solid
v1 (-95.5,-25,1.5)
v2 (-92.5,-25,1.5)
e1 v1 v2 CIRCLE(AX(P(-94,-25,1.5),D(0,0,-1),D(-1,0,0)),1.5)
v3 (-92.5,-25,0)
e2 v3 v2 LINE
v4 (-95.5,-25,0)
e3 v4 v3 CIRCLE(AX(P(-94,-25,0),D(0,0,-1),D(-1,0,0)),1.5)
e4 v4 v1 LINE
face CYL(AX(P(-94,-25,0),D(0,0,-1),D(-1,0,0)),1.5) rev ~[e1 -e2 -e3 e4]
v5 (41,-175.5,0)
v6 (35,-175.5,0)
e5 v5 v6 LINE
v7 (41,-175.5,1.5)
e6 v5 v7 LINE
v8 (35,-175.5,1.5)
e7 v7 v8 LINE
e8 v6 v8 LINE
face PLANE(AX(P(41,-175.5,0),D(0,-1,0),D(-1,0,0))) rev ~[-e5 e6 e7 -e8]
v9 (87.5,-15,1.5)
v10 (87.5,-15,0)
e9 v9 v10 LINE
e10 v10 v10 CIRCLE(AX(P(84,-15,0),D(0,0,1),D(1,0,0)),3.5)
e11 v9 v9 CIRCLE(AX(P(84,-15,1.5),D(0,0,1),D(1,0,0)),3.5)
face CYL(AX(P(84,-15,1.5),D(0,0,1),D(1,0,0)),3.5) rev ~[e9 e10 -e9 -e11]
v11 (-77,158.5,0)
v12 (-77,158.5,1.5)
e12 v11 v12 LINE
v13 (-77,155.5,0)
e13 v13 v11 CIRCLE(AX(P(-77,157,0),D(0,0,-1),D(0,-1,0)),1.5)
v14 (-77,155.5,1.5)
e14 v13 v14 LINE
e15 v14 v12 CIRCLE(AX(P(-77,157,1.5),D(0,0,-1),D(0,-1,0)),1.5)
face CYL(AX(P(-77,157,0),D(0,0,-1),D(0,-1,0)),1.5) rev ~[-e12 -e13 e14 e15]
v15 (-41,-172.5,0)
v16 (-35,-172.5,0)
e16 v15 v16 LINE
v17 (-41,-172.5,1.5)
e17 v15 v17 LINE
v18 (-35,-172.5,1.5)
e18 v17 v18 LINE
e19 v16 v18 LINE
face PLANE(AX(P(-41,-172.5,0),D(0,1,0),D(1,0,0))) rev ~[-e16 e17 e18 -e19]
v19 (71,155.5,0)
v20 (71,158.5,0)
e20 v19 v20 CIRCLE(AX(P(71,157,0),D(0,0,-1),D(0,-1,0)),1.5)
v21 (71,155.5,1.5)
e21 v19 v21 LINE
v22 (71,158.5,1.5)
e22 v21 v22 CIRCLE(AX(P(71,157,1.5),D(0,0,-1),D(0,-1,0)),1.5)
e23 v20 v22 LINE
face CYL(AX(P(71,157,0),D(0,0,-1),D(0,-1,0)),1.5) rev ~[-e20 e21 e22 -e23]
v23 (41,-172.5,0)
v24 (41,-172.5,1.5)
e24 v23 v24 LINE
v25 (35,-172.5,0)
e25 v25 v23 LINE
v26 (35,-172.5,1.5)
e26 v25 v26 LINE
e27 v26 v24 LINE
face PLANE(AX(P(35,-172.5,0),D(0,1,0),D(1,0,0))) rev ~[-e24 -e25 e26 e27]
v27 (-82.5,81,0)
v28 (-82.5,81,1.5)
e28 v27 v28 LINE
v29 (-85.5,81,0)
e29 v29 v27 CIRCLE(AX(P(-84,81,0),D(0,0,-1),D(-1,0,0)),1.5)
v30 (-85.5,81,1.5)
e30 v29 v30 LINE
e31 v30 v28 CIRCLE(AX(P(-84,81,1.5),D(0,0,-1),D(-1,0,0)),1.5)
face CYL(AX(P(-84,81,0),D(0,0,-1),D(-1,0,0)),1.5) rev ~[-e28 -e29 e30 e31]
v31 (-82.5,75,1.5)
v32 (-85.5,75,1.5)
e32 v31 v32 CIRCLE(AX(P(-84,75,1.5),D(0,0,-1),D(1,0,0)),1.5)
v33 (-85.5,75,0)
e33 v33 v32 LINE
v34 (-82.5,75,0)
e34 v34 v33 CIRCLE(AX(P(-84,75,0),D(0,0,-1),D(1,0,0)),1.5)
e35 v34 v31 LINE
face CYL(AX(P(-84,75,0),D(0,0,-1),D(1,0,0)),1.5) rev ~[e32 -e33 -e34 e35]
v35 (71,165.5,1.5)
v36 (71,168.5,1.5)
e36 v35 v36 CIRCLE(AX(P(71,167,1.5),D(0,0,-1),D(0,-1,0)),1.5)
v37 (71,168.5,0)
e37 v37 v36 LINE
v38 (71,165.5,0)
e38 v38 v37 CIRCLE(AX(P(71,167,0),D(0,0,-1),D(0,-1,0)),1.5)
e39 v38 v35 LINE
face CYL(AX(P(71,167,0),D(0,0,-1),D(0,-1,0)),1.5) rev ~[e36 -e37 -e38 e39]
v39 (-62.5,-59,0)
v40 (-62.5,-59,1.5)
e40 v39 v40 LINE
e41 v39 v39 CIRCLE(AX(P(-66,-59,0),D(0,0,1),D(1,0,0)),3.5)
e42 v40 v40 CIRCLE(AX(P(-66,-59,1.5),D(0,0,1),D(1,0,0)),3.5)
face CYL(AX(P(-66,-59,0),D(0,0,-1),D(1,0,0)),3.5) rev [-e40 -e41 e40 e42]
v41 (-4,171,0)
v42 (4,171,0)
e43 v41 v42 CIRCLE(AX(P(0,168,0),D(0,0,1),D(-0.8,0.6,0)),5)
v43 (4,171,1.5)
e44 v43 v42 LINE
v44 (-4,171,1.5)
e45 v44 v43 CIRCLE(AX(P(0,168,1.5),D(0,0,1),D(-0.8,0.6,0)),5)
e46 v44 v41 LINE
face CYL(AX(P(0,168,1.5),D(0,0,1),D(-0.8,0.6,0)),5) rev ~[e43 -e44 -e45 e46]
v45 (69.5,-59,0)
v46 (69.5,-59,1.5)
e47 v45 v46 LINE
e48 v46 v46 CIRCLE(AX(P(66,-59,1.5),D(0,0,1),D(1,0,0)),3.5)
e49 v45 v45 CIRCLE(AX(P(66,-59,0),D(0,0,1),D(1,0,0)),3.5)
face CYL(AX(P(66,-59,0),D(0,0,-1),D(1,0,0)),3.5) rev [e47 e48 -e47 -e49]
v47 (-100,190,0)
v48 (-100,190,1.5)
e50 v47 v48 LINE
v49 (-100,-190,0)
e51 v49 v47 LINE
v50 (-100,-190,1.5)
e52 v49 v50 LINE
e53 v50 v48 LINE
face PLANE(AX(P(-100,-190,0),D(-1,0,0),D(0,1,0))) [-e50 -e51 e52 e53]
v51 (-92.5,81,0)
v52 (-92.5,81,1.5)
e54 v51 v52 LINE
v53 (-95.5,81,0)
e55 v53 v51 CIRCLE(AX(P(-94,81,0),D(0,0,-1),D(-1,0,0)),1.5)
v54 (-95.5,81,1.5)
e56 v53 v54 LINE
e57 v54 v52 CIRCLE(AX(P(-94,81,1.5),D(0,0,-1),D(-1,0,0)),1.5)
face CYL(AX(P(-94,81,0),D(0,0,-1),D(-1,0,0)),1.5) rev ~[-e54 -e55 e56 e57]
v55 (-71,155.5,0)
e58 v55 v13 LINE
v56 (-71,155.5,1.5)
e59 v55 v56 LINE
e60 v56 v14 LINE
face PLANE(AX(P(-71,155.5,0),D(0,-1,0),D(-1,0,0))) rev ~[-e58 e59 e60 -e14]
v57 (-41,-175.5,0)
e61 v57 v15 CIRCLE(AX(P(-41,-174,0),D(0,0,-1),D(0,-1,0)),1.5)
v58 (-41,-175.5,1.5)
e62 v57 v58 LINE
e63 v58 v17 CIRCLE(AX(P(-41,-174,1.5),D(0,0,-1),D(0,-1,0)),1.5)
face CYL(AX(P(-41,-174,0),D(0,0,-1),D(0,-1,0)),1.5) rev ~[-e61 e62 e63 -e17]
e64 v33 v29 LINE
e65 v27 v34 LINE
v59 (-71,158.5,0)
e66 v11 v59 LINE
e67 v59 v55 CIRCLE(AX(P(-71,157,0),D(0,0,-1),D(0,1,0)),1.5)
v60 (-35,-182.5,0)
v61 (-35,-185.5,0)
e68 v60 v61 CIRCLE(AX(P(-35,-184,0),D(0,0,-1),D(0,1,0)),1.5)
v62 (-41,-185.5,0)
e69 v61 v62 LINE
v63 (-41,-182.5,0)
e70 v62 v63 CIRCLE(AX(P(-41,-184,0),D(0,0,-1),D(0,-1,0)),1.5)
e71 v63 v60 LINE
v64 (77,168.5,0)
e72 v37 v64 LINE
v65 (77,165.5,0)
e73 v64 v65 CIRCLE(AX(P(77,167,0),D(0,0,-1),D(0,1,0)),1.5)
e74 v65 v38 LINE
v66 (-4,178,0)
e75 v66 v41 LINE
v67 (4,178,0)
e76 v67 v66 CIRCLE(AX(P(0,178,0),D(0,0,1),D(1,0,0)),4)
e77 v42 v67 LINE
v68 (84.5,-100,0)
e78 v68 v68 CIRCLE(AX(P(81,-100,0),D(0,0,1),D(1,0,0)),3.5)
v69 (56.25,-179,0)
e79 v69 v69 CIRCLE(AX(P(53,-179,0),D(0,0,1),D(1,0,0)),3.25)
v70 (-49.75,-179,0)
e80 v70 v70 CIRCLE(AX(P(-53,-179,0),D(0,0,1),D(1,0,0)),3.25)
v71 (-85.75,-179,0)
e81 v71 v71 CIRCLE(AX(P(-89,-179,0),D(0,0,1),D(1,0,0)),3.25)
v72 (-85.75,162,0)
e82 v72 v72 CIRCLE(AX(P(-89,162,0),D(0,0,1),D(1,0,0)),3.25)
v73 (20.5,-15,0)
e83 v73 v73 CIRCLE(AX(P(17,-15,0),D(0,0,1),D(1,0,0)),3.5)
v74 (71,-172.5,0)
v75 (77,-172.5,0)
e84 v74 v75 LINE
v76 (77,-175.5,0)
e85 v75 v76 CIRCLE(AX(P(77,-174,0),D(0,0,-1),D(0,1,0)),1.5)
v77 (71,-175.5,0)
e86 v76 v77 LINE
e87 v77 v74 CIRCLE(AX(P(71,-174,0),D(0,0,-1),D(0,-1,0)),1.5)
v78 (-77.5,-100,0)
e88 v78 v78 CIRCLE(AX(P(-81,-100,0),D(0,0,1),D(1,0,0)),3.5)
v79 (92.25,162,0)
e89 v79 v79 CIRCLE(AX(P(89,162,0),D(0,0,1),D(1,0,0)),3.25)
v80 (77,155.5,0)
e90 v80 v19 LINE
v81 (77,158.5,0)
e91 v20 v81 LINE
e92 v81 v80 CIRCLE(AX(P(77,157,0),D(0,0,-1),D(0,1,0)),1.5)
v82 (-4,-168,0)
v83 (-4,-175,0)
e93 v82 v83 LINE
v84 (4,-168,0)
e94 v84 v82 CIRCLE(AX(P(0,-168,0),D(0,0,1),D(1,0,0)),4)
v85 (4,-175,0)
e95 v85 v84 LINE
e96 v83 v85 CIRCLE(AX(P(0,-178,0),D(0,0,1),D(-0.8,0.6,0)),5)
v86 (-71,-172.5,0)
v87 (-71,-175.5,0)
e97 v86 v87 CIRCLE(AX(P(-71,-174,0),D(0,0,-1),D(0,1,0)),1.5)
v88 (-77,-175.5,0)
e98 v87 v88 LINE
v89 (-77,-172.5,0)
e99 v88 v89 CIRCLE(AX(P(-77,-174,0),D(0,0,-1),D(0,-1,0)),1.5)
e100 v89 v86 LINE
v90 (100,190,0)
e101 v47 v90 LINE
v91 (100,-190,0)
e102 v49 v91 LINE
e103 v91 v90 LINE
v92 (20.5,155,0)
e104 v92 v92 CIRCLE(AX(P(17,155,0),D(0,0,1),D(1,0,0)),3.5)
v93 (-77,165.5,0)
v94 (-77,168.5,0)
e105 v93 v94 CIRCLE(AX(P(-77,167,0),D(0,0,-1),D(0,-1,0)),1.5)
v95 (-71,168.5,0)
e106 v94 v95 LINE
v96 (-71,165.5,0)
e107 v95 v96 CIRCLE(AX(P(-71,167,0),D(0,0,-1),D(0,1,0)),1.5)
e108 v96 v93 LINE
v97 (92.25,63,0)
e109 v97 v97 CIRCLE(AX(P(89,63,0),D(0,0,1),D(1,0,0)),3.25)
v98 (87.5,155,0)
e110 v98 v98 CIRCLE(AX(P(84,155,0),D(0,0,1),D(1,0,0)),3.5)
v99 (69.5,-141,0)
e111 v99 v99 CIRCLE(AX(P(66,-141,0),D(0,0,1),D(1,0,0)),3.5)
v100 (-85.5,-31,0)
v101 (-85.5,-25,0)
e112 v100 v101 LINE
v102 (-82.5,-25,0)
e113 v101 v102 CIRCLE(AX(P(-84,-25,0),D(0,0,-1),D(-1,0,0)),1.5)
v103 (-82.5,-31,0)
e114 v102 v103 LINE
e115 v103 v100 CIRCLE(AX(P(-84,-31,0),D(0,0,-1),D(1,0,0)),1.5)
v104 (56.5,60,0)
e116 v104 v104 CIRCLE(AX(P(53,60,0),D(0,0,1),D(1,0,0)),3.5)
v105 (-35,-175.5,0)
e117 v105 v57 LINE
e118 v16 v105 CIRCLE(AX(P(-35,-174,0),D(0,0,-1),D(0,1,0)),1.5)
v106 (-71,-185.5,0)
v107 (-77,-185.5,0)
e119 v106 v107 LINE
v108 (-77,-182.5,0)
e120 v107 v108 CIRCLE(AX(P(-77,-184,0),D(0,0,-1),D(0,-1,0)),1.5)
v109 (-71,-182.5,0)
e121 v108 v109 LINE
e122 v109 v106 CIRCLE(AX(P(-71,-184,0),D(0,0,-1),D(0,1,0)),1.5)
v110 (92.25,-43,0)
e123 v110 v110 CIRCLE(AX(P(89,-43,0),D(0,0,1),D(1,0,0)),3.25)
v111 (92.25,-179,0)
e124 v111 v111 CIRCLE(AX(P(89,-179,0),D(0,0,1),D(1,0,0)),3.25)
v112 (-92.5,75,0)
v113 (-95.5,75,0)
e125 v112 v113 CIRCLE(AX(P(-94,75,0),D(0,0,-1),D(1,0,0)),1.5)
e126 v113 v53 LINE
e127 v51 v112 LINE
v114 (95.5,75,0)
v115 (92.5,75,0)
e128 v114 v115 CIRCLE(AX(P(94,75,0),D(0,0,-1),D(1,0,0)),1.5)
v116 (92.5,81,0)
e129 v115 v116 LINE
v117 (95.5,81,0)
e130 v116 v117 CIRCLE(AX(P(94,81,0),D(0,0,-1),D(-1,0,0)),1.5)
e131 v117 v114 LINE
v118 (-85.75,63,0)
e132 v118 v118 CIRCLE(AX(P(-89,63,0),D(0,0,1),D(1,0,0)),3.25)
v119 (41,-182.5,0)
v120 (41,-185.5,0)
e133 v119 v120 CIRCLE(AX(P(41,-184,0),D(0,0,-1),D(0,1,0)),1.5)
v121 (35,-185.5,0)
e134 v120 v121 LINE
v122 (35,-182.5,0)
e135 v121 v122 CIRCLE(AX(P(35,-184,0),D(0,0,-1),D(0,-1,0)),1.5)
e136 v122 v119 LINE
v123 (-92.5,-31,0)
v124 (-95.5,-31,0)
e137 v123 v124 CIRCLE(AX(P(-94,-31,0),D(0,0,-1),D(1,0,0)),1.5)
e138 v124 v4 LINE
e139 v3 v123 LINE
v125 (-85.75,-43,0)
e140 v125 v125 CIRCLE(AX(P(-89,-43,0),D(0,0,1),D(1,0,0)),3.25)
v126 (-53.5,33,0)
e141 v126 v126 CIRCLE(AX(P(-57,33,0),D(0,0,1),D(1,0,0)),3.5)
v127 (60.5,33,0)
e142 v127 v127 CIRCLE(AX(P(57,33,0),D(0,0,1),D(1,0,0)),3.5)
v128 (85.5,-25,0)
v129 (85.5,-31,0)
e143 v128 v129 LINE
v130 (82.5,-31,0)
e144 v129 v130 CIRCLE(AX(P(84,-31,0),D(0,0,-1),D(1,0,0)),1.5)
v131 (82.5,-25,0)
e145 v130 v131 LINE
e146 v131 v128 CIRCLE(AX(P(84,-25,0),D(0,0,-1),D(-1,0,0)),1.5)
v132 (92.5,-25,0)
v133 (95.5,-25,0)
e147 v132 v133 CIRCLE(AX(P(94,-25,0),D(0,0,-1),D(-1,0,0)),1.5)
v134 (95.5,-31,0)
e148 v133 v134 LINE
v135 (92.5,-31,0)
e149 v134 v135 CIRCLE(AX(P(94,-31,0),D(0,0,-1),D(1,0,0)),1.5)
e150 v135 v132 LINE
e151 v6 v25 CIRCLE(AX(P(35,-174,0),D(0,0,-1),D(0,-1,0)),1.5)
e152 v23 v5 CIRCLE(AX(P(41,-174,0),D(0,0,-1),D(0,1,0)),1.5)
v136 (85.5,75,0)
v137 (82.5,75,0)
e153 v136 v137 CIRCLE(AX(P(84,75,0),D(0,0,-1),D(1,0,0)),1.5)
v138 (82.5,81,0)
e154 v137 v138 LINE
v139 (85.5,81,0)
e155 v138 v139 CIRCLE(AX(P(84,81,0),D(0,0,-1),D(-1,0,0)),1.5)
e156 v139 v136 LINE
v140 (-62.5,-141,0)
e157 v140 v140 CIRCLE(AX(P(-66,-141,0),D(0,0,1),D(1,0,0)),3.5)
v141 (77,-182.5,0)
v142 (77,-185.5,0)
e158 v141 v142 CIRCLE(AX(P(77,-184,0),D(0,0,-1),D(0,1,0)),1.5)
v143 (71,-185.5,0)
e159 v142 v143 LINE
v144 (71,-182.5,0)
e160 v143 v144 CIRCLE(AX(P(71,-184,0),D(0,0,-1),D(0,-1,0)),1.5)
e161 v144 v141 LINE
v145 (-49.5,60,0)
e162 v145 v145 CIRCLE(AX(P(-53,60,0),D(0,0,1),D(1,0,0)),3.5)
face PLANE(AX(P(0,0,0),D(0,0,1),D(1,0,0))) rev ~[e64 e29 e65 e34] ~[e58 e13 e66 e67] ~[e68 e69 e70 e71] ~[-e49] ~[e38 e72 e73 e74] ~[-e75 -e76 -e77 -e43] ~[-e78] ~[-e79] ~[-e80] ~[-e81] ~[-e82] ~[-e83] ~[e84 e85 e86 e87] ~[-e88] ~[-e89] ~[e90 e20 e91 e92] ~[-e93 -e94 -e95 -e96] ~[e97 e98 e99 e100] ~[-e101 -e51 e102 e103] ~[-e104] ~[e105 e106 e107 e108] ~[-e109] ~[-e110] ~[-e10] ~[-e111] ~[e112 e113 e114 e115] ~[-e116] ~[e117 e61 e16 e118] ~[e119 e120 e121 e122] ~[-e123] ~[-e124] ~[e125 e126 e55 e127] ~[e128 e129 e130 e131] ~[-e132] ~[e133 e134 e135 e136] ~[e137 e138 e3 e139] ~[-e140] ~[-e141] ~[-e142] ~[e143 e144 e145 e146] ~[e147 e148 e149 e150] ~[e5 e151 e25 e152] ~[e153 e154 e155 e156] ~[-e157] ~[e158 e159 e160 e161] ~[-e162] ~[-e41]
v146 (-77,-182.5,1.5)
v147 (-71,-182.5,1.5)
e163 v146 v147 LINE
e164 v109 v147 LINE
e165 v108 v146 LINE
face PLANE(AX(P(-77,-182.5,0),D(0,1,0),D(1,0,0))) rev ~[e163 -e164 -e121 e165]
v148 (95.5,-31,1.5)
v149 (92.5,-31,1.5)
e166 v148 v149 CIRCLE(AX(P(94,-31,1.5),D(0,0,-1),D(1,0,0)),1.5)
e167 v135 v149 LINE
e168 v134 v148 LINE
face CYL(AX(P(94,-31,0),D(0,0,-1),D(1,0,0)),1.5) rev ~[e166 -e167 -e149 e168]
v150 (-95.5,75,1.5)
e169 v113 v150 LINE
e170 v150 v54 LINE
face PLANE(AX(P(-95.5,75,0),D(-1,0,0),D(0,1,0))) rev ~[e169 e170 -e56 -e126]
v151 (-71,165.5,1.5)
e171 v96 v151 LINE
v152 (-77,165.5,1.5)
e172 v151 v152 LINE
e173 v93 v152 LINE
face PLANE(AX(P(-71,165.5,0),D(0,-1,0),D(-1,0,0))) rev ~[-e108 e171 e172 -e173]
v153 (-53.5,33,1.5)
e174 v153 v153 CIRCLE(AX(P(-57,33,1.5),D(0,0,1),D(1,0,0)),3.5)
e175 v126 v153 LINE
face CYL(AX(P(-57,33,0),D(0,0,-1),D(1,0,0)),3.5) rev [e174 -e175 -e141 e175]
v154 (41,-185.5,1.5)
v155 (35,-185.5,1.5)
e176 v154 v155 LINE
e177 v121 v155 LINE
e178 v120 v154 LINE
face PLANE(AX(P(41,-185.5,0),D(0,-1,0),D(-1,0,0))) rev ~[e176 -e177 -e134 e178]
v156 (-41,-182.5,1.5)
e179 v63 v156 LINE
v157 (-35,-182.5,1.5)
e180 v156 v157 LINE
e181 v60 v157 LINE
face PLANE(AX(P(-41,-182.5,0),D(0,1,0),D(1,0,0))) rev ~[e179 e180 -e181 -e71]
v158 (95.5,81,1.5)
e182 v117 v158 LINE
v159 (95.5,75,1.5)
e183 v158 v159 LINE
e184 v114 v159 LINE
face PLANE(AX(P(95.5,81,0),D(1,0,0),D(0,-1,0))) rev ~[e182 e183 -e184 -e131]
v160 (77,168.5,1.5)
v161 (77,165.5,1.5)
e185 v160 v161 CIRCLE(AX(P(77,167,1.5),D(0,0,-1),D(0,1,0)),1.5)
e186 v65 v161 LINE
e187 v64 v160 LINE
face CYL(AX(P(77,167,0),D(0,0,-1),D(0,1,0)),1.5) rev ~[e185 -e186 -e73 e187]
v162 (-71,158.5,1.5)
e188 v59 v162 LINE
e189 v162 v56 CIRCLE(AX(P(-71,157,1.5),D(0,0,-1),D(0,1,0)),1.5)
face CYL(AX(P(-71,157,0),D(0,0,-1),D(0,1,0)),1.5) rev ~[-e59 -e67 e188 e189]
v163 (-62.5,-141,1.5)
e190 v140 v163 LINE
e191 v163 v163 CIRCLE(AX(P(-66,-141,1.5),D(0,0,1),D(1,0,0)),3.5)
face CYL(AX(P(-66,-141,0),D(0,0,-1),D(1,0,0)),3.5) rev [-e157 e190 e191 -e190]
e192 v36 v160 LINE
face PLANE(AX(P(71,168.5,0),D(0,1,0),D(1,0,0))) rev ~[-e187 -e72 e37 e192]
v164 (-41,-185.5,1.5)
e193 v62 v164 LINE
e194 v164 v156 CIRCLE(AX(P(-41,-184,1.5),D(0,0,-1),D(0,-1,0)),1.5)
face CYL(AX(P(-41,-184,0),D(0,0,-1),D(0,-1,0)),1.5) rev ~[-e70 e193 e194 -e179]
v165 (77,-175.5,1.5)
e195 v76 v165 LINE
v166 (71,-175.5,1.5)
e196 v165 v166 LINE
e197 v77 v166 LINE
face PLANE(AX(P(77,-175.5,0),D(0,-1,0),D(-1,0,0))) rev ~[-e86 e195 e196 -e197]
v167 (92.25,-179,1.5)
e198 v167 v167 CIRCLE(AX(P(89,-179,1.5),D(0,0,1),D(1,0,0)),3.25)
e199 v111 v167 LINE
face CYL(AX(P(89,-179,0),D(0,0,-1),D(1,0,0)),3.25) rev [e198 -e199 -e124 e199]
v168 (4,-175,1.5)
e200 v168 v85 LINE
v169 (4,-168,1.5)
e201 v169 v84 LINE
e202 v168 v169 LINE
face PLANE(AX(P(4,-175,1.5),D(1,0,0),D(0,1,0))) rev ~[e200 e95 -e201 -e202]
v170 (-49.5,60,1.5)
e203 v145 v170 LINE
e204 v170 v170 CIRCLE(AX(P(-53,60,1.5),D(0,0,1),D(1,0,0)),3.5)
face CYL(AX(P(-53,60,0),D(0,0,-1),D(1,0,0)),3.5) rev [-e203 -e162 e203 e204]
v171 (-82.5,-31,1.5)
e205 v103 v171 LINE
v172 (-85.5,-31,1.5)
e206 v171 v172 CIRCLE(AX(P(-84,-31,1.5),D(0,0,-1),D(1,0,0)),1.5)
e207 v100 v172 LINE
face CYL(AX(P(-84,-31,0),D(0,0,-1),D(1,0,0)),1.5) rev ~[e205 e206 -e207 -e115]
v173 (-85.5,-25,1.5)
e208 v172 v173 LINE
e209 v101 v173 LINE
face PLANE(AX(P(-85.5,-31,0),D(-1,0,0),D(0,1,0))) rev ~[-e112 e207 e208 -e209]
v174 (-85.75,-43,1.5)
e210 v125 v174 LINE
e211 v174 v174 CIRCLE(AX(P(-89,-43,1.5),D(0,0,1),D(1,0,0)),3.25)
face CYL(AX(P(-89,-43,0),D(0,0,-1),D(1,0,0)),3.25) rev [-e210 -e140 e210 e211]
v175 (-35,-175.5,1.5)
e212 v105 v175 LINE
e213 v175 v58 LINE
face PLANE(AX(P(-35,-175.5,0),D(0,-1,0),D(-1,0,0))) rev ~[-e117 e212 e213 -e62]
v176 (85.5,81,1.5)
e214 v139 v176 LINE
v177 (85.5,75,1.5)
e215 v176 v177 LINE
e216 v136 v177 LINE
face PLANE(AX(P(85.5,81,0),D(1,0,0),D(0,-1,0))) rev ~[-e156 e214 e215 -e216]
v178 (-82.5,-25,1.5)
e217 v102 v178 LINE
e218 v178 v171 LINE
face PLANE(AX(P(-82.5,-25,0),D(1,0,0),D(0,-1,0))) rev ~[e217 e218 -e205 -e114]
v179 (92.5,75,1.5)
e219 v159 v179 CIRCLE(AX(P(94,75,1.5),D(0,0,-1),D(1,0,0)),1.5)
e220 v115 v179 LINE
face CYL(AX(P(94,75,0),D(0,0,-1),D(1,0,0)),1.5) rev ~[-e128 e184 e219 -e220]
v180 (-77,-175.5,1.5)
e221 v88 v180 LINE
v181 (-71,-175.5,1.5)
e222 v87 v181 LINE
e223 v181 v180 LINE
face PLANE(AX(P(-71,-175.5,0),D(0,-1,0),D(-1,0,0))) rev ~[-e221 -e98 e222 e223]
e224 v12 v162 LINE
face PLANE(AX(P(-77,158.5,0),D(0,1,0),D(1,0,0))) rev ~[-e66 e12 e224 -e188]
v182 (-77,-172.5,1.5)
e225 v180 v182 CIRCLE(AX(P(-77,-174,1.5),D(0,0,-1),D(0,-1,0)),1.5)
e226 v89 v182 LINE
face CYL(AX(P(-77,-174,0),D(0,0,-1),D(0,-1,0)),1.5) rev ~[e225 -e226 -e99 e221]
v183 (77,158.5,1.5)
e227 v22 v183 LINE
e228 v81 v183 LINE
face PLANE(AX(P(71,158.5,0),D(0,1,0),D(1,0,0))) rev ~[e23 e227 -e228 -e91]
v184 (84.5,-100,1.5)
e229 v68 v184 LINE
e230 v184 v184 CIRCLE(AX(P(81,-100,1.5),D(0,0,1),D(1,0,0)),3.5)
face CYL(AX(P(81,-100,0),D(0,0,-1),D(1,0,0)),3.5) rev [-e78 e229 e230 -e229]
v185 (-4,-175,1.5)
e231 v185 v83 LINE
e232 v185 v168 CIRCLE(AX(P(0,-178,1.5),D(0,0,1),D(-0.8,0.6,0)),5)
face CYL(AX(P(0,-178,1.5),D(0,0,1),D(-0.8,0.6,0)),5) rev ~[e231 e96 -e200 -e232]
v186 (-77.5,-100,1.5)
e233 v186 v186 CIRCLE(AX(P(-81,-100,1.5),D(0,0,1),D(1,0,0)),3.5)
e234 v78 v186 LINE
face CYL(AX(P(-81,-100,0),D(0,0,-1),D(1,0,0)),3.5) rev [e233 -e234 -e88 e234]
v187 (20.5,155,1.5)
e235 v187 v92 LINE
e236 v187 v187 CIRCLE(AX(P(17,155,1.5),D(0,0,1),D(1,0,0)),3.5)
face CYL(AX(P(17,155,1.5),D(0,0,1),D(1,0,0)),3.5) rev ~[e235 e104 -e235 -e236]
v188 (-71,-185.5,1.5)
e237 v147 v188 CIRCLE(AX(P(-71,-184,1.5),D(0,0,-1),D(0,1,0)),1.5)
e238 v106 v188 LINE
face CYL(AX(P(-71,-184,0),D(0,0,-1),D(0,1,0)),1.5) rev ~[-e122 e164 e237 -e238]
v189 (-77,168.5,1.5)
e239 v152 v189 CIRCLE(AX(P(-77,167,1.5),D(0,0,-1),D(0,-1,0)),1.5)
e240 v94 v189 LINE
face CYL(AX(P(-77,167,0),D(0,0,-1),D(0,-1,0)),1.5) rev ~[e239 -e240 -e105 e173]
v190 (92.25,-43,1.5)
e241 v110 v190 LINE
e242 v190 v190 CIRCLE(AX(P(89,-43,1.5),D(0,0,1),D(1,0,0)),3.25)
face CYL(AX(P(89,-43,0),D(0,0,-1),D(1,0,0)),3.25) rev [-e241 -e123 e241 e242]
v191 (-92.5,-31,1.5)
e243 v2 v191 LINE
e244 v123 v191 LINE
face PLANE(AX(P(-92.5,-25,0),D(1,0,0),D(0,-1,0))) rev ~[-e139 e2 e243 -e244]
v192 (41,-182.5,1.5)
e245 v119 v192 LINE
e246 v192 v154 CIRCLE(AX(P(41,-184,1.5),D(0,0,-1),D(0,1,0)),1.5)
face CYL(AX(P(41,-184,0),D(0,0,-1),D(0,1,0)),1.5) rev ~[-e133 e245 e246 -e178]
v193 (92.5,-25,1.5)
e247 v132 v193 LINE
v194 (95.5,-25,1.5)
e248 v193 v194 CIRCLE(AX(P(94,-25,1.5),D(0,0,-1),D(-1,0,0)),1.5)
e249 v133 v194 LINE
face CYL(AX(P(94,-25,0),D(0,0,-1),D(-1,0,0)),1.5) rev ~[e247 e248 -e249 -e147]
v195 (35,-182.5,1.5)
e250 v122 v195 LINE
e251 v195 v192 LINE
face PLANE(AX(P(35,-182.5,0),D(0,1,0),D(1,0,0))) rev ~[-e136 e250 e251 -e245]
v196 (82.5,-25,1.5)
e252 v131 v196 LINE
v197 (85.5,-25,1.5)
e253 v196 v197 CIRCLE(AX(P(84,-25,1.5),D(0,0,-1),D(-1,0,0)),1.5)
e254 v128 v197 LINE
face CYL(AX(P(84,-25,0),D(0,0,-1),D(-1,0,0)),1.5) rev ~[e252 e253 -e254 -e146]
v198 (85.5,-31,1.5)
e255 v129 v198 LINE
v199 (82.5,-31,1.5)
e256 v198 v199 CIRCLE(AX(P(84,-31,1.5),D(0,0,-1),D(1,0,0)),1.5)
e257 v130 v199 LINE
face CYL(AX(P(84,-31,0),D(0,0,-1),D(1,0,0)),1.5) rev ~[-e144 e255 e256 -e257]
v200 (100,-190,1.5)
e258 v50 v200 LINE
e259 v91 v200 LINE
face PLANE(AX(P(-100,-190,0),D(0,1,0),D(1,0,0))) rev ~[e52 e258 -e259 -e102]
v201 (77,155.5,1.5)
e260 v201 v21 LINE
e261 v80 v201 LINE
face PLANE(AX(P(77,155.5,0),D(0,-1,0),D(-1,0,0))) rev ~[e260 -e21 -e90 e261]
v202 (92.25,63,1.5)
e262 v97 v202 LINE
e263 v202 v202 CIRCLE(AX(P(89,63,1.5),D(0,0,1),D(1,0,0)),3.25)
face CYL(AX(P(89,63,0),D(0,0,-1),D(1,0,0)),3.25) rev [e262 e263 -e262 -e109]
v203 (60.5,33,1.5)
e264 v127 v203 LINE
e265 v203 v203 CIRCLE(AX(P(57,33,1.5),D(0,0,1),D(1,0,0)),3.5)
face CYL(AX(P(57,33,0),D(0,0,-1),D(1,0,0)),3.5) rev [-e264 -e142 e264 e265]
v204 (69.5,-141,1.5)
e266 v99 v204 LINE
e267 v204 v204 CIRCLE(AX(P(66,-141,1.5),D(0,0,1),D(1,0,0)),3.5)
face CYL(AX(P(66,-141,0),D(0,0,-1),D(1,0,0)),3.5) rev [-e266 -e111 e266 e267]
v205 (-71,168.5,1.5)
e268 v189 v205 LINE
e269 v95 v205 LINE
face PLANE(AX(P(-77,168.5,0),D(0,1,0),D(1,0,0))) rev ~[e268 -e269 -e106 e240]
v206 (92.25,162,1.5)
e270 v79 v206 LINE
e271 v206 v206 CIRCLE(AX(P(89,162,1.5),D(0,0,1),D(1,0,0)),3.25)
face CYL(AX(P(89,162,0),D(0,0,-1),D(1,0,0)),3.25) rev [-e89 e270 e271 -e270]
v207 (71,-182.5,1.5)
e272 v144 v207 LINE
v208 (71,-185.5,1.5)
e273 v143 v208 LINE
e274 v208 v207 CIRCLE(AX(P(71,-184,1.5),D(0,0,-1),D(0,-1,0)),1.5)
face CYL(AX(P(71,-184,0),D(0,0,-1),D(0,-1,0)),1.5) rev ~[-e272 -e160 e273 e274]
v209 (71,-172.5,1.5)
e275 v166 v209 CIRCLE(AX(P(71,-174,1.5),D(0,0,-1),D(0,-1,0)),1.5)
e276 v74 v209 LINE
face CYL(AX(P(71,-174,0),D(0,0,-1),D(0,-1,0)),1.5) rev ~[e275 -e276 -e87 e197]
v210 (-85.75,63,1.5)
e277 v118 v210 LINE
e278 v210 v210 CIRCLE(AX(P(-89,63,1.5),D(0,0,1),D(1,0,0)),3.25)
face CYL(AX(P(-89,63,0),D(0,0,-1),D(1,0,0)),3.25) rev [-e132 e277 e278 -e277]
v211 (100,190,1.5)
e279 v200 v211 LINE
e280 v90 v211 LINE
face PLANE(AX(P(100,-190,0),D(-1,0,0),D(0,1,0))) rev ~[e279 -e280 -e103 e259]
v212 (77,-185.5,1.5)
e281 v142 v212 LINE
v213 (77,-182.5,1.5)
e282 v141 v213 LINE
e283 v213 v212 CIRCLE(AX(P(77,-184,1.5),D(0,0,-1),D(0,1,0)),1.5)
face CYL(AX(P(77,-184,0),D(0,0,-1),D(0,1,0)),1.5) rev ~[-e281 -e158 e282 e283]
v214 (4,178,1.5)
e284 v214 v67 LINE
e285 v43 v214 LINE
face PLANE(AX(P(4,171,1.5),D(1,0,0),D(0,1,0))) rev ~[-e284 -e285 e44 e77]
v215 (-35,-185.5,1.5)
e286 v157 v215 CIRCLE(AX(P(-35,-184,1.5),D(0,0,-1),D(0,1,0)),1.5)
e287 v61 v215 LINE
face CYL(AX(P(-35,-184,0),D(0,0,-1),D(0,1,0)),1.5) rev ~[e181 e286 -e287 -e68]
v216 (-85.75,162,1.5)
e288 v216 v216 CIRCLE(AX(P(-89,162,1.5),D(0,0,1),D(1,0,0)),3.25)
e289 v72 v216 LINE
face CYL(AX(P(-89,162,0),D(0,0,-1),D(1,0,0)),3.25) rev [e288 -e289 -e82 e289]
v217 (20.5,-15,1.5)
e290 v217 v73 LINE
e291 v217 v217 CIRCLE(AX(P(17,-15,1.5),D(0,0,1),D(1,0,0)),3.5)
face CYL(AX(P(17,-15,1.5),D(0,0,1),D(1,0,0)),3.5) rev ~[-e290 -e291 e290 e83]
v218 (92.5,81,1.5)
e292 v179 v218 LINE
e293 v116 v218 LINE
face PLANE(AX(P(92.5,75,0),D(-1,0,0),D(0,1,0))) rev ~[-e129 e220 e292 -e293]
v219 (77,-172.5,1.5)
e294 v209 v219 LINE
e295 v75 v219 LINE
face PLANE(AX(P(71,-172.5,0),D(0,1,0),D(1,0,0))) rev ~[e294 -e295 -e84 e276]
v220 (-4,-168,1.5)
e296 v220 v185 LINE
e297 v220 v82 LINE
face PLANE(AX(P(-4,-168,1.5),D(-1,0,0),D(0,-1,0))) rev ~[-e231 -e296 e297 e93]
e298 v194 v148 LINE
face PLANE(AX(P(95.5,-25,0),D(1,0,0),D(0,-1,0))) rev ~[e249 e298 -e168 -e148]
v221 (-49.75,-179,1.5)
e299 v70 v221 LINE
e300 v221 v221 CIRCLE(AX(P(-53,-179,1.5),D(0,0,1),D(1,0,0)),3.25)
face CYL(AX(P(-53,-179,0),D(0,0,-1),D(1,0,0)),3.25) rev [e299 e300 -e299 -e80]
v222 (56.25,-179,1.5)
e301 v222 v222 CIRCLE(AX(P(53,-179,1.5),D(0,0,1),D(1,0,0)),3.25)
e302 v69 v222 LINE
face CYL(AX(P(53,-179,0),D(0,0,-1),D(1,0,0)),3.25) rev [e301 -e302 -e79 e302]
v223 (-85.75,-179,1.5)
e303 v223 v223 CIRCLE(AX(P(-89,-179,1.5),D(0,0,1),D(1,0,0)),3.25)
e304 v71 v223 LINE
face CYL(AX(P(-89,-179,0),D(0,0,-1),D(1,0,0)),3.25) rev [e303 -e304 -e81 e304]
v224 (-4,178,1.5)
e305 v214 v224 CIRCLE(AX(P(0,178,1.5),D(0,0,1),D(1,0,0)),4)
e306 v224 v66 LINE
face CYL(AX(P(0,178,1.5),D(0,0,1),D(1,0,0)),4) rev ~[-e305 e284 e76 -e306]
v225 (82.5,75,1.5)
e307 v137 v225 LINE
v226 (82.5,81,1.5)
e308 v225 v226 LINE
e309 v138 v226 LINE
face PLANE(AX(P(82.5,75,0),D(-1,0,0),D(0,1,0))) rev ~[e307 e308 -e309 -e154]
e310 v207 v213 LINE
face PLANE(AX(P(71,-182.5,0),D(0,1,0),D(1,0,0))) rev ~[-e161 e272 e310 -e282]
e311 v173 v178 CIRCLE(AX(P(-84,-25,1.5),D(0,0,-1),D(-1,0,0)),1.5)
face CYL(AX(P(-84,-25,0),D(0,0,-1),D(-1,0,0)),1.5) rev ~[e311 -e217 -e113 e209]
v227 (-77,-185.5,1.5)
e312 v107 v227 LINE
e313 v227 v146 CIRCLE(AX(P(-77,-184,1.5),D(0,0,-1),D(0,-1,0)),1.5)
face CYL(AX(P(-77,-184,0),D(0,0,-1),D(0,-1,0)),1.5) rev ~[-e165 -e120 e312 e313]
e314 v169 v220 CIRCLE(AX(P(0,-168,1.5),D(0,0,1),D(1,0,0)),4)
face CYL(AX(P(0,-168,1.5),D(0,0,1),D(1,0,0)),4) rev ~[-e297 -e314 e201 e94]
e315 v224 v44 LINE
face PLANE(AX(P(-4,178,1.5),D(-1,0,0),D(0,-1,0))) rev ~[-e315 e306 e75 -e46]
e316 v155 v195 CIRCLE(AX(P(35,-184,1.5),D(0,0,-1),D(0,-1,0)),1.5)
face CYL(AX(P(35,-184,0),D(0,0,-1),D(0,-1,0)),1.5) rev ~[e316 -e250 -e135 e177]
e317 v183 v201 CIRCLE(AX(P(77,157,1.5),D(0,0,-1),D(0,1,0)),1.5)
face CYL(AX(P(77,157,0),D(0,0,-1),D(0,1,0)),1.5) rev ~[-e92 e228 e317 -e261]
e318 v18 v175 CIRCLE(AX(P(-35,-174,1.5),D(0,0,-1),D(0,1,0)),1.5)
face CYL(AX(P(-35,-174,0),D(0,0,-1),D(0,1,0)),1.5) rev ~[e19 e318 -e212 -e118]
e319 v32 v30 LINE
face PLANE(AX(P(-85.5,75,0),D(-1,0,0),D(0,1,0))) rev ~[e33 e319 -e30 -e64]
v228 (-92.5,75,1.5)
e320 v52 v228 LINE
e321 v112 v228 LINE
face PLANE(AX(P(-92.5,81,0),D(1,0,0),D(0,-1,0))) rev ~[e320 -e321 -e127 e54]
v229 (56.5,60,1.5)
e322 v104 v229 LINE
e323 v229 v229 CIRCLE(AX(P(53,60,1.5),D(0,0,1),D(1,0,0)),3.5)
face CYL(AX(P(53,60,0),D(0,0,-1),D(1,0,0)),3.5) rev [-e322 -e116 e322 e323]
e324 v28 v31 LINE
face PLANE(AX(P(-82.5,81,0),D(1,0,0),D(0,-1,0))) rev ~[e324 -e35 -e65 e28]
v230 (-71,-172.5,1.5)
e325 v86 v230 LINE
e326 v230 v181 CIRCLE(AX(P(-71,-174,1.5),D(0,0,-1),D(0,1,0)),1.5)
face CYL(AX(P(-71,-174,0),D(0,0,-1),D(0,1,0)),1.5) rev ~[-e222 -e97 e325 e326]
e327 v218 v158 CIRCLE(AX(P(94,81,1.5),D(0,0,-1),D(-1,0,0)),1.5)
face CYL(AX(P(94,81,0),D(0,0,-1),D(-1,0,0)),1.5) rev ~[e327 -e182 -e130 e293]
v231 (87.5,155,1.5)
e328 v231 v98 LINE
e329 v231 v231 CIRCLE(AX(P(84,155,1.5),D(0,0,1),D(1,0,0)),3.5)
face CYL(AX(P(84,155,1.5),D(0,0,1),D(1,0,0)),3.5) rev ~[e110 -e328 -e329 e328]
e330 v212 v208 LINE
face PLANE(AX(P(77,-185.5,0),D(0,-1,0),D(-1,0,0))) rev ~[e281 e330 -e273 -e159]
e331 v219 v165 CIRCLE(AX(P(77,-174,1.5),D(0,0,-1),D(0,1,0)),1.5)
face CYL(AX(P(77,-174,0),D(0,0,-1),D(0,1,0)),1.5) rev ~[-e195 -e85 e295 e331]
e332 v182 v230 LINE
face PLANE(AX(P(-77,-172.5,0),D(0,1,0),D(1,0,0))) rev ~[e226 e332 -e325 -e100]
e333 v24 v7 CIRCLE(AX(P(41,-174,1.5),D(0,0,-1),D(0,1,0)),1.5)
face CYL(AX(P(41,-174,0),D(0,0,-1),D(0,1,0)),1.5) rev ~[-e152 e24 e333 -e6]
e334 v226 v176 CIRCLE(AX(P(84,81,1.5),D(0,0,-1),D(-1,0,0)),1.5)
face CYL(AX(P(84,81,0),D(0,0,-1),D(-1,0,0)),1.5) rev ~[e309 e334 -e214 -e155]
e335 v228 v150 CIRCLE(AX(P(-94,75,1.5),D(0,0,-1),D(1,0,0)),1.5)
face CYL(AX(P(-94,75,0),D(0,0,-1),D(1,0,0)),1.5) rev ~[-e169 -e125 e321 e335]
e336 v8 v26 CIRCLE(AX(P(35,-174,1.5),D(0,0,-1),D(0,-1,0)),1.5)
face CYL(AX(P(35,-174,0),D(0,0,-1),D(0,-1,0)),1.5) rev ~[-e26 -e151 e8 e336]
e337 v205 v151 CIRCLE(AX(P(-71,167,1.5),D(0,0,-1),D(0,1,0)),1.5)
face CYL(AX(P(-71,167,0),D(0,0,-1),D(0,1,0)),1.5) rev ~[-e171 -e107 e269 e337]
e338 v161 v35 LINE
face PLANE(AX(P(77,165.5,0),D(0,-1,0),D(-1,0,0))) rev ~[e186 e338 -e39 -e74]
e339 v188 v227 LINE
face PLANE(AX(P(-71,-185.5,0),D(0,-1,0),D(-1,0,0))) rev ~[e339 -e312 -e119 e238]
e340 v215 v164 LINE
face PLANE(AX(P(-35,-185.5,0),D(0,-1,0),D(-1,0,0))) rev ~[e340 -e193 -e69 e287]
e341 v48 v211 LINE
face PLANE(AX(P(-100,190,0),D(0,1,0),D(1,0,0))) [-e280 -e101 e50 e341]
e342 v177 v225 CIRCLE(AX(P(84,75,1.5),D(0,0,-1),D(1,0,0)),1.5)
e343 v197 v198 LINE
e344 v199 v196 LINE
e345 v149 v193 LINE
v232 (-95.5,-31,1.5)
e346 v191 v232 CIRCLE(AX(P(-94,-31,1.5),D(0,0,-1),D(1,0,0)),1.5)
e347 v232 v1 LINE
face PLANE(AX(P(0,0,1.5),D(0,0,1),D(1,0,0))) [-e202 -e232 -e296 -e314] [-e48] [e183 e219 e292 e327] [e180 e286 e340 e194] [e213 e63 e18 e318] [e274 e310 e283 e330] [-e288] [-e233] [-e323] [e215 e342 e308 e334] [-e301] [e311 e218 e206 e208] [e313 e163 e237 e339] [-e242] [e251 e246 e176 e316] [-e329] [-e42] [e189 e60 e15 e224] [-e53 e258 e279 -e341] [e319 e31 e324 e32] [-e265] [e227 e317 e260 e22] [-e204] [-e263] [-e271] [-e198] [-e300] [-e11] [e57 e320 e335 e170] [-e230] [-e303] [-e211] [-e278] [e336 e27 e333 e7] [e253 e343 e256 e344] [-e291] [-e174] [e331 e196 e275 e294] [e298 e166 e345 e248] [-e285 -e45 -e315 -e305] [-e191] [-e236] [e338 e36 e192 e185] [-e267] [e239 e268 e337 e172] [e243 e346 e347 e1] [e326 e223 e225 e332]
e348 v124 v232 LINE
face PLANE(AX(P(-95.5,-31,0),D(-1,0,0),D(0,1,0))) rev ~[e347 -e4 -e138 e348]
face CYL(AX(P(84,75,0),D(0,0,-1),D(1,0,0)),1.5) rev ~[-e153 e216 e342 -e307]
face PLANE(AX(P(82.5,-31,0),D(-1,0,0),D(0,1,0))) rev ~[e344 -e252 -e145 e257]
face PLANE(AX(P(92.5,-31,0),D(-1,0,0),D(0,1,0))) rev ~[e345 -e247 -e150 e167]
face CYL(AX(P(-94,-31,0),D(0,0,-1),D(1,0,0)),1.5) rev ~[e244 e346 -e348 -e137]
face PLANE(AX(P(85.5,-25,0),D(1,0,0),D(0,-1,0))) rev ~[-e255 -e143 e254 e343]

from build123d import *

# Parameters (mm, degrees)
F0_W     = 200
F0_H     = 380
F0_R     = 3.25
F0_R_2   = 3.5
F1_DEPTH = 1.5
F2_R     = 3.5
F3_DEPTH = 25


with BuildPart() as f1:
    # F0 (on Top) → F1 (new body)
    with BuildSketch(Plane.XY):
        Rectangle(F0_W, F0_H)
        with Locations((-89, -179)):
            Circle(F0_R, mode=Mode.SUBTRACT)
        with BuildLine():
            Line((-77, -182.5), (-71, -182.5))
            ThreePointArc((-71, -182.5), (-69.5, -184), (-71, -185.5))
            Line((-71, -185.5), (-77, -185.5))
            ThreePointArc((-77, -185.5), (-78.5, -184), (-77, -182.5))
        make_face(mode=Mode.SUBTRACT)
        with BuildLine():
            ThreePointArc((-77, -175.5), (-78.5, -174), (-77, -172.5))
            Line((-77, -172.5), (-71, -172.5))
            ThreePointArc((-71, -172.5), (-69.5, -174), (-71, -175.5))
            Line((-71, -175.5), (-77, -175.5))
        make_face(mode=Mode.SUBTRACT)
        with Locations((-53, -179)):
            Circle(F0_R, mode=Mode.SUBTRACT)
        with Locations((-81, -100)):
            Circle(F0_R_2, mode=Mode.SUBTRACT)
        with Locations((-66, -141)):
            Circle(F0_R_2, mode=Mode.SUBTRACT)
        with BuildLine():
            Line((-41, -182.5), (-35, -182.5))
            ThreePointArc((-35, -182.5), (-33.5, -184), (-35, -185.5))
            Line((-35, -185.5), (-41, -185.5))
            ThreePointArc((-41, -185.5), (-42.5, -184), (-41, -182.5))
        make_face(mode=Mode.SUBTRACT)
        with BuildLine():
            ThreePointArc((-41, -175.5), (-42.5, -174), (-41, -172.5))
            Line((-41, -172.5), (-35, -172.5))
            ThreePointArc((-35, -172.5), (-33.5, -174), (-35, -175.5))
            Line((-35, -175.5), (-41, -175.5))
        make_face(mode=Mode.SUBTRACT)
        with Locations((-66, -59)):
            Circle(F0_R_2, mode=Mode.SUBTRACT)
        with Locations((-89, -43)):
            Circle(F0_R, mode=Mode.SUBTRACT)
        with BuildLine():
            ThreePointArc((-92.5, -31), (-94, -32.5), (-95.5, -31))
            Line((-95.5, -31), (-95.5, -25))
            ThreePointArc((-95.5, -25), (-94, -23.5), (-92.5, -25))
            Line((-92.5, -25), (-92.5, -31))
        make_face(mode=Mode.SUBTRACT)
        with BuildLine():
            Line((-85.5, -31), (-85.5, -25))
            ThreePointArc((-85.5, -25), (-84, -23.5), (-82.5, -25))
            Line((-82.5, -25), (-82.5, -31))
            ThreePointArc((-82.5, -31), (-84, -32.5), (-85.5, -31))
        make_face(mode=Mode.SUBTRACT)
        with BuildLine():
            ThreePointArc((35, -185.5), (33.5, -184), (35, -182.5))
            Line((35, -182.5), (41, -182.5))
            ThreePointArc((41, -182.5), (42.5, -184), (41, -185.5))
            Line((41, -185.5), (35, -185.5))
        make_face(mode=Mode.SUBTRACT)
        with BuildLine():
            Line((35, -172.5), (41, -172.5))
            ThreePointArc((41, -172.5), (42.5, -174), (41, -175.5))
            Line((41, -175.5), (35, -175.5))
            ThreePointArc((35, -175.5), (33.5, -174), (35, -172.5))
        make_face(mode=Mode.SUBTRACT)
        with Locations((53, -179)):
            Circle(F0_R, mode=Mode.SUBTRACT)
        with BuildLine():
            ThreePointArc((71, -185.5), (69.5, -184), (71, -182.5))
            Line((71, -182.5), (77, -182.5))
            ThreePointArc((77, -182.5), (78.5, -184), (77, -185.5))
            Line((77, -185.5), (71, -185.5))
        make_face(mode=Mode.SUBTRACT)
        with BuildLine():
            Line((77, -175.5), (71, -175.5))
            ThreePointArc((71, -175.5), (69.5, -174), (71, -172.5))
            Line((71, -172.5), (77, -172.5))
            ThreePointArc((77, -172.5), (78.5, -174), (77, -175.5))
        make_face(mode=Mode.SUBTRACT)
        with Locations((89, -179)):
            Circle(F0_R, mode=Mode.SUBTRACT)
        with Locations((66, -141)):
            Circle(F0_R_2, mode=Mode.SUBTRACT)
        with Locations((81, -100)):
            Circle(F0_R_2, mode=Mode.SUBTRACT)
        with Locations((66, -59)):
            Circle(F0_R_2, mode=Mode.SUBTRACT)
        with BuildLine():
            ThreePointArc((85.5, -31), (84, -32.5), (82.5, -31))
            Line((82.5, -31), (82.5, -25))
            ThreePointArc((82.5, -25), (84, -23.5), (85.5, -25))
            Line((85.5, -25), (85.5, -31))
        make_face(mode=Mode.SUBTRACT)
        with Locations((89, -43)):
            Circle(F0_R, mode=Mode.SUBTRACT)
        with BuildLine():
            Line((92.5, -31), (92.5, -25))
            ThreePointArc((92.5, -25), (94, -23.5), (95.5, -25))
            Line((95.5, -25), (95.5, -31))
            ThreePointArc((95.5, -31), (94, -32.5), (92.5, -31))
        make_face(mode=Mode.SUBTRACT)
        with Locations((-57, 33)):
            Circle(F0_R_2, mode=Mode.SUBTRACT)
        with Locations((-89, 63)):
            Circle(F0_R, mode=Mode.SUBTRACT)
        with BuildLine():
            ThreePointArc((-95.5, 81), (-94, 82.5), (-92.5, 81))
            Line((-92.5, 81), (-92.5, 75))
            ThreePointArc((-92.5, 75), (-94, 73.5), (-95.5, 75))
            Line((-95.5, 75), (-95.5, 81))
        make_face(mode=Mode.SUBTRACT)
        with BuildLine():
            Line((-85.5, 75), (-85.5, 81))
            ThreePointArc((-85.5, 81), (-84, 82.5), (-82.5, 81))
            Line((-82.5, 81), (-82.5, 75))
            ThreePointArc((-82.5, 75), (-84, 73.5), (-85.5, 75))
        make_face(mode=Mode.SUBTRACT)
        with Locations((-53, 60)):
            Circle(F0_R_2, mode=Mode.SUBTRACT)
        with Locations((-89, 162)):
            Circle(F0_R, mode=Mode.SUBTRACT)
        with BuildLine():
            Line((-77, 158.5), (-71, 158.5))
            ThreePointArc((-71, 158.5), (-69.5, 157), (-71, 155.5))
            Line((-71, 155.5), (-77, 155.5))
            ThreePointArc((-77, 155.5), (-78.5, 157), (-77, 158.5))
        make_face(mode=Mode.SUBTRACT)
        with BuildLine():
            ThreePointArc((-77, 165.5), (-78.5, 167), (-77, 168.5))
            Line((-77, 168.5), (-71, 168.5))
            ThreePointArc((-71, 168.5), (-69.5, 167), (-71, 165.5))
            Line((-71, 165.5), (-77, 165.5))
        make_face(mode=Mode.SUBTRACT)
        with Locations((57, 33)):
            Circle(F0_R_2, mode=Mode.SUBTRACT)
        with Locations((53, 60)):
            Circle(F0_R_2, mode=Mode.SUBTRACT)
        with Locations((89, 63)):
            Circle(F0_R, mode=Mode.SUBTRACT)
        with BuildLine():
            ThreePointArc((82.5, 81), (84, 82.5), (85.5, 81))
            Line((85.5, 81), (85.5, 75))
            ThreePointArc((85.5, 75), (84, 73.5), (82.5, 75))
            Line((82.5, 75), (82.5, 81))
        make_face(mode=Mode.SUBTRACT)
        with BuildLine():
            Line((92.5, 75), (92.5, 81))
            ThreePointArc((92.5, 81), (94, 82.5), (95.5, 81))
            Line((95.5, 81), (95.5, 75))
            ThreePointArc((95.5, 75), (94, 73.5), (92.5, 75))
        make_face(mode=Mode.SUBTRACT)
        with BuildLine():
            ThreePointArc((71, 155.5), (69.5, 157), (71, 158.5))
            Line((71, 158.5), (77, 158.5))
            ThreePointArc((77, 158.5), (78.5, 157), (77, 155.5))
            Line((77, 155.5), (71, 155.5))
        make_face(mode=Mode.SUBTRACT)
        with BuildLine():
            Line((71, 168.5), (77, 168.5))
            ThreePointArc((77, 168.5), (78.5, 167), (77, 165.5))
            Line((77, 165.5), (71, 165.5))
            ThreePointArc((71, 165.5), (69.5, 167), (71, 168.5))
        make_face(mode=Mode.SUBTRACT)
        with Locations((89, 162)):
            Circle(F0_R, mode=Mode.SUBTRACT)
    extrude(amount=F1_DEPTH)

    # F2 (on face) → F3 (cut)
    with BuildSketch(Plane.XY.offset(1.5)):
        with Locations((84, -15)):
            Circle(F2_R)
        with Locations((17, -15)):
            Circle(F2_R)
        with BuildLine():
            Line((4, 171), (4, 178))
            ThreePointArc((4, 178), (0, 182), (-4, 178))
            Line((-4, 178), (-4, 171))
            ThreePointArc((-4, 171), (0, 163), (4, 171))
        make_face()
        with BuildLine():
            Line((-4, -168), (-4, -175))
            ThreePointArc((-4, -175), (0, -183), (4, -175))
            Line((4, -175), (4, -168))
            ThreePointArc((4, -168), (0, -164), (-4, -168))
        make_face()
        with Locations((84, 155)):
            Circle(F2_R)
        with Locations((17, 155)):
            Circle(F2_R)
    extrude(amount=-F3_DEPTH, mode=Mode.SUBTRACT)


solid = f1.part
